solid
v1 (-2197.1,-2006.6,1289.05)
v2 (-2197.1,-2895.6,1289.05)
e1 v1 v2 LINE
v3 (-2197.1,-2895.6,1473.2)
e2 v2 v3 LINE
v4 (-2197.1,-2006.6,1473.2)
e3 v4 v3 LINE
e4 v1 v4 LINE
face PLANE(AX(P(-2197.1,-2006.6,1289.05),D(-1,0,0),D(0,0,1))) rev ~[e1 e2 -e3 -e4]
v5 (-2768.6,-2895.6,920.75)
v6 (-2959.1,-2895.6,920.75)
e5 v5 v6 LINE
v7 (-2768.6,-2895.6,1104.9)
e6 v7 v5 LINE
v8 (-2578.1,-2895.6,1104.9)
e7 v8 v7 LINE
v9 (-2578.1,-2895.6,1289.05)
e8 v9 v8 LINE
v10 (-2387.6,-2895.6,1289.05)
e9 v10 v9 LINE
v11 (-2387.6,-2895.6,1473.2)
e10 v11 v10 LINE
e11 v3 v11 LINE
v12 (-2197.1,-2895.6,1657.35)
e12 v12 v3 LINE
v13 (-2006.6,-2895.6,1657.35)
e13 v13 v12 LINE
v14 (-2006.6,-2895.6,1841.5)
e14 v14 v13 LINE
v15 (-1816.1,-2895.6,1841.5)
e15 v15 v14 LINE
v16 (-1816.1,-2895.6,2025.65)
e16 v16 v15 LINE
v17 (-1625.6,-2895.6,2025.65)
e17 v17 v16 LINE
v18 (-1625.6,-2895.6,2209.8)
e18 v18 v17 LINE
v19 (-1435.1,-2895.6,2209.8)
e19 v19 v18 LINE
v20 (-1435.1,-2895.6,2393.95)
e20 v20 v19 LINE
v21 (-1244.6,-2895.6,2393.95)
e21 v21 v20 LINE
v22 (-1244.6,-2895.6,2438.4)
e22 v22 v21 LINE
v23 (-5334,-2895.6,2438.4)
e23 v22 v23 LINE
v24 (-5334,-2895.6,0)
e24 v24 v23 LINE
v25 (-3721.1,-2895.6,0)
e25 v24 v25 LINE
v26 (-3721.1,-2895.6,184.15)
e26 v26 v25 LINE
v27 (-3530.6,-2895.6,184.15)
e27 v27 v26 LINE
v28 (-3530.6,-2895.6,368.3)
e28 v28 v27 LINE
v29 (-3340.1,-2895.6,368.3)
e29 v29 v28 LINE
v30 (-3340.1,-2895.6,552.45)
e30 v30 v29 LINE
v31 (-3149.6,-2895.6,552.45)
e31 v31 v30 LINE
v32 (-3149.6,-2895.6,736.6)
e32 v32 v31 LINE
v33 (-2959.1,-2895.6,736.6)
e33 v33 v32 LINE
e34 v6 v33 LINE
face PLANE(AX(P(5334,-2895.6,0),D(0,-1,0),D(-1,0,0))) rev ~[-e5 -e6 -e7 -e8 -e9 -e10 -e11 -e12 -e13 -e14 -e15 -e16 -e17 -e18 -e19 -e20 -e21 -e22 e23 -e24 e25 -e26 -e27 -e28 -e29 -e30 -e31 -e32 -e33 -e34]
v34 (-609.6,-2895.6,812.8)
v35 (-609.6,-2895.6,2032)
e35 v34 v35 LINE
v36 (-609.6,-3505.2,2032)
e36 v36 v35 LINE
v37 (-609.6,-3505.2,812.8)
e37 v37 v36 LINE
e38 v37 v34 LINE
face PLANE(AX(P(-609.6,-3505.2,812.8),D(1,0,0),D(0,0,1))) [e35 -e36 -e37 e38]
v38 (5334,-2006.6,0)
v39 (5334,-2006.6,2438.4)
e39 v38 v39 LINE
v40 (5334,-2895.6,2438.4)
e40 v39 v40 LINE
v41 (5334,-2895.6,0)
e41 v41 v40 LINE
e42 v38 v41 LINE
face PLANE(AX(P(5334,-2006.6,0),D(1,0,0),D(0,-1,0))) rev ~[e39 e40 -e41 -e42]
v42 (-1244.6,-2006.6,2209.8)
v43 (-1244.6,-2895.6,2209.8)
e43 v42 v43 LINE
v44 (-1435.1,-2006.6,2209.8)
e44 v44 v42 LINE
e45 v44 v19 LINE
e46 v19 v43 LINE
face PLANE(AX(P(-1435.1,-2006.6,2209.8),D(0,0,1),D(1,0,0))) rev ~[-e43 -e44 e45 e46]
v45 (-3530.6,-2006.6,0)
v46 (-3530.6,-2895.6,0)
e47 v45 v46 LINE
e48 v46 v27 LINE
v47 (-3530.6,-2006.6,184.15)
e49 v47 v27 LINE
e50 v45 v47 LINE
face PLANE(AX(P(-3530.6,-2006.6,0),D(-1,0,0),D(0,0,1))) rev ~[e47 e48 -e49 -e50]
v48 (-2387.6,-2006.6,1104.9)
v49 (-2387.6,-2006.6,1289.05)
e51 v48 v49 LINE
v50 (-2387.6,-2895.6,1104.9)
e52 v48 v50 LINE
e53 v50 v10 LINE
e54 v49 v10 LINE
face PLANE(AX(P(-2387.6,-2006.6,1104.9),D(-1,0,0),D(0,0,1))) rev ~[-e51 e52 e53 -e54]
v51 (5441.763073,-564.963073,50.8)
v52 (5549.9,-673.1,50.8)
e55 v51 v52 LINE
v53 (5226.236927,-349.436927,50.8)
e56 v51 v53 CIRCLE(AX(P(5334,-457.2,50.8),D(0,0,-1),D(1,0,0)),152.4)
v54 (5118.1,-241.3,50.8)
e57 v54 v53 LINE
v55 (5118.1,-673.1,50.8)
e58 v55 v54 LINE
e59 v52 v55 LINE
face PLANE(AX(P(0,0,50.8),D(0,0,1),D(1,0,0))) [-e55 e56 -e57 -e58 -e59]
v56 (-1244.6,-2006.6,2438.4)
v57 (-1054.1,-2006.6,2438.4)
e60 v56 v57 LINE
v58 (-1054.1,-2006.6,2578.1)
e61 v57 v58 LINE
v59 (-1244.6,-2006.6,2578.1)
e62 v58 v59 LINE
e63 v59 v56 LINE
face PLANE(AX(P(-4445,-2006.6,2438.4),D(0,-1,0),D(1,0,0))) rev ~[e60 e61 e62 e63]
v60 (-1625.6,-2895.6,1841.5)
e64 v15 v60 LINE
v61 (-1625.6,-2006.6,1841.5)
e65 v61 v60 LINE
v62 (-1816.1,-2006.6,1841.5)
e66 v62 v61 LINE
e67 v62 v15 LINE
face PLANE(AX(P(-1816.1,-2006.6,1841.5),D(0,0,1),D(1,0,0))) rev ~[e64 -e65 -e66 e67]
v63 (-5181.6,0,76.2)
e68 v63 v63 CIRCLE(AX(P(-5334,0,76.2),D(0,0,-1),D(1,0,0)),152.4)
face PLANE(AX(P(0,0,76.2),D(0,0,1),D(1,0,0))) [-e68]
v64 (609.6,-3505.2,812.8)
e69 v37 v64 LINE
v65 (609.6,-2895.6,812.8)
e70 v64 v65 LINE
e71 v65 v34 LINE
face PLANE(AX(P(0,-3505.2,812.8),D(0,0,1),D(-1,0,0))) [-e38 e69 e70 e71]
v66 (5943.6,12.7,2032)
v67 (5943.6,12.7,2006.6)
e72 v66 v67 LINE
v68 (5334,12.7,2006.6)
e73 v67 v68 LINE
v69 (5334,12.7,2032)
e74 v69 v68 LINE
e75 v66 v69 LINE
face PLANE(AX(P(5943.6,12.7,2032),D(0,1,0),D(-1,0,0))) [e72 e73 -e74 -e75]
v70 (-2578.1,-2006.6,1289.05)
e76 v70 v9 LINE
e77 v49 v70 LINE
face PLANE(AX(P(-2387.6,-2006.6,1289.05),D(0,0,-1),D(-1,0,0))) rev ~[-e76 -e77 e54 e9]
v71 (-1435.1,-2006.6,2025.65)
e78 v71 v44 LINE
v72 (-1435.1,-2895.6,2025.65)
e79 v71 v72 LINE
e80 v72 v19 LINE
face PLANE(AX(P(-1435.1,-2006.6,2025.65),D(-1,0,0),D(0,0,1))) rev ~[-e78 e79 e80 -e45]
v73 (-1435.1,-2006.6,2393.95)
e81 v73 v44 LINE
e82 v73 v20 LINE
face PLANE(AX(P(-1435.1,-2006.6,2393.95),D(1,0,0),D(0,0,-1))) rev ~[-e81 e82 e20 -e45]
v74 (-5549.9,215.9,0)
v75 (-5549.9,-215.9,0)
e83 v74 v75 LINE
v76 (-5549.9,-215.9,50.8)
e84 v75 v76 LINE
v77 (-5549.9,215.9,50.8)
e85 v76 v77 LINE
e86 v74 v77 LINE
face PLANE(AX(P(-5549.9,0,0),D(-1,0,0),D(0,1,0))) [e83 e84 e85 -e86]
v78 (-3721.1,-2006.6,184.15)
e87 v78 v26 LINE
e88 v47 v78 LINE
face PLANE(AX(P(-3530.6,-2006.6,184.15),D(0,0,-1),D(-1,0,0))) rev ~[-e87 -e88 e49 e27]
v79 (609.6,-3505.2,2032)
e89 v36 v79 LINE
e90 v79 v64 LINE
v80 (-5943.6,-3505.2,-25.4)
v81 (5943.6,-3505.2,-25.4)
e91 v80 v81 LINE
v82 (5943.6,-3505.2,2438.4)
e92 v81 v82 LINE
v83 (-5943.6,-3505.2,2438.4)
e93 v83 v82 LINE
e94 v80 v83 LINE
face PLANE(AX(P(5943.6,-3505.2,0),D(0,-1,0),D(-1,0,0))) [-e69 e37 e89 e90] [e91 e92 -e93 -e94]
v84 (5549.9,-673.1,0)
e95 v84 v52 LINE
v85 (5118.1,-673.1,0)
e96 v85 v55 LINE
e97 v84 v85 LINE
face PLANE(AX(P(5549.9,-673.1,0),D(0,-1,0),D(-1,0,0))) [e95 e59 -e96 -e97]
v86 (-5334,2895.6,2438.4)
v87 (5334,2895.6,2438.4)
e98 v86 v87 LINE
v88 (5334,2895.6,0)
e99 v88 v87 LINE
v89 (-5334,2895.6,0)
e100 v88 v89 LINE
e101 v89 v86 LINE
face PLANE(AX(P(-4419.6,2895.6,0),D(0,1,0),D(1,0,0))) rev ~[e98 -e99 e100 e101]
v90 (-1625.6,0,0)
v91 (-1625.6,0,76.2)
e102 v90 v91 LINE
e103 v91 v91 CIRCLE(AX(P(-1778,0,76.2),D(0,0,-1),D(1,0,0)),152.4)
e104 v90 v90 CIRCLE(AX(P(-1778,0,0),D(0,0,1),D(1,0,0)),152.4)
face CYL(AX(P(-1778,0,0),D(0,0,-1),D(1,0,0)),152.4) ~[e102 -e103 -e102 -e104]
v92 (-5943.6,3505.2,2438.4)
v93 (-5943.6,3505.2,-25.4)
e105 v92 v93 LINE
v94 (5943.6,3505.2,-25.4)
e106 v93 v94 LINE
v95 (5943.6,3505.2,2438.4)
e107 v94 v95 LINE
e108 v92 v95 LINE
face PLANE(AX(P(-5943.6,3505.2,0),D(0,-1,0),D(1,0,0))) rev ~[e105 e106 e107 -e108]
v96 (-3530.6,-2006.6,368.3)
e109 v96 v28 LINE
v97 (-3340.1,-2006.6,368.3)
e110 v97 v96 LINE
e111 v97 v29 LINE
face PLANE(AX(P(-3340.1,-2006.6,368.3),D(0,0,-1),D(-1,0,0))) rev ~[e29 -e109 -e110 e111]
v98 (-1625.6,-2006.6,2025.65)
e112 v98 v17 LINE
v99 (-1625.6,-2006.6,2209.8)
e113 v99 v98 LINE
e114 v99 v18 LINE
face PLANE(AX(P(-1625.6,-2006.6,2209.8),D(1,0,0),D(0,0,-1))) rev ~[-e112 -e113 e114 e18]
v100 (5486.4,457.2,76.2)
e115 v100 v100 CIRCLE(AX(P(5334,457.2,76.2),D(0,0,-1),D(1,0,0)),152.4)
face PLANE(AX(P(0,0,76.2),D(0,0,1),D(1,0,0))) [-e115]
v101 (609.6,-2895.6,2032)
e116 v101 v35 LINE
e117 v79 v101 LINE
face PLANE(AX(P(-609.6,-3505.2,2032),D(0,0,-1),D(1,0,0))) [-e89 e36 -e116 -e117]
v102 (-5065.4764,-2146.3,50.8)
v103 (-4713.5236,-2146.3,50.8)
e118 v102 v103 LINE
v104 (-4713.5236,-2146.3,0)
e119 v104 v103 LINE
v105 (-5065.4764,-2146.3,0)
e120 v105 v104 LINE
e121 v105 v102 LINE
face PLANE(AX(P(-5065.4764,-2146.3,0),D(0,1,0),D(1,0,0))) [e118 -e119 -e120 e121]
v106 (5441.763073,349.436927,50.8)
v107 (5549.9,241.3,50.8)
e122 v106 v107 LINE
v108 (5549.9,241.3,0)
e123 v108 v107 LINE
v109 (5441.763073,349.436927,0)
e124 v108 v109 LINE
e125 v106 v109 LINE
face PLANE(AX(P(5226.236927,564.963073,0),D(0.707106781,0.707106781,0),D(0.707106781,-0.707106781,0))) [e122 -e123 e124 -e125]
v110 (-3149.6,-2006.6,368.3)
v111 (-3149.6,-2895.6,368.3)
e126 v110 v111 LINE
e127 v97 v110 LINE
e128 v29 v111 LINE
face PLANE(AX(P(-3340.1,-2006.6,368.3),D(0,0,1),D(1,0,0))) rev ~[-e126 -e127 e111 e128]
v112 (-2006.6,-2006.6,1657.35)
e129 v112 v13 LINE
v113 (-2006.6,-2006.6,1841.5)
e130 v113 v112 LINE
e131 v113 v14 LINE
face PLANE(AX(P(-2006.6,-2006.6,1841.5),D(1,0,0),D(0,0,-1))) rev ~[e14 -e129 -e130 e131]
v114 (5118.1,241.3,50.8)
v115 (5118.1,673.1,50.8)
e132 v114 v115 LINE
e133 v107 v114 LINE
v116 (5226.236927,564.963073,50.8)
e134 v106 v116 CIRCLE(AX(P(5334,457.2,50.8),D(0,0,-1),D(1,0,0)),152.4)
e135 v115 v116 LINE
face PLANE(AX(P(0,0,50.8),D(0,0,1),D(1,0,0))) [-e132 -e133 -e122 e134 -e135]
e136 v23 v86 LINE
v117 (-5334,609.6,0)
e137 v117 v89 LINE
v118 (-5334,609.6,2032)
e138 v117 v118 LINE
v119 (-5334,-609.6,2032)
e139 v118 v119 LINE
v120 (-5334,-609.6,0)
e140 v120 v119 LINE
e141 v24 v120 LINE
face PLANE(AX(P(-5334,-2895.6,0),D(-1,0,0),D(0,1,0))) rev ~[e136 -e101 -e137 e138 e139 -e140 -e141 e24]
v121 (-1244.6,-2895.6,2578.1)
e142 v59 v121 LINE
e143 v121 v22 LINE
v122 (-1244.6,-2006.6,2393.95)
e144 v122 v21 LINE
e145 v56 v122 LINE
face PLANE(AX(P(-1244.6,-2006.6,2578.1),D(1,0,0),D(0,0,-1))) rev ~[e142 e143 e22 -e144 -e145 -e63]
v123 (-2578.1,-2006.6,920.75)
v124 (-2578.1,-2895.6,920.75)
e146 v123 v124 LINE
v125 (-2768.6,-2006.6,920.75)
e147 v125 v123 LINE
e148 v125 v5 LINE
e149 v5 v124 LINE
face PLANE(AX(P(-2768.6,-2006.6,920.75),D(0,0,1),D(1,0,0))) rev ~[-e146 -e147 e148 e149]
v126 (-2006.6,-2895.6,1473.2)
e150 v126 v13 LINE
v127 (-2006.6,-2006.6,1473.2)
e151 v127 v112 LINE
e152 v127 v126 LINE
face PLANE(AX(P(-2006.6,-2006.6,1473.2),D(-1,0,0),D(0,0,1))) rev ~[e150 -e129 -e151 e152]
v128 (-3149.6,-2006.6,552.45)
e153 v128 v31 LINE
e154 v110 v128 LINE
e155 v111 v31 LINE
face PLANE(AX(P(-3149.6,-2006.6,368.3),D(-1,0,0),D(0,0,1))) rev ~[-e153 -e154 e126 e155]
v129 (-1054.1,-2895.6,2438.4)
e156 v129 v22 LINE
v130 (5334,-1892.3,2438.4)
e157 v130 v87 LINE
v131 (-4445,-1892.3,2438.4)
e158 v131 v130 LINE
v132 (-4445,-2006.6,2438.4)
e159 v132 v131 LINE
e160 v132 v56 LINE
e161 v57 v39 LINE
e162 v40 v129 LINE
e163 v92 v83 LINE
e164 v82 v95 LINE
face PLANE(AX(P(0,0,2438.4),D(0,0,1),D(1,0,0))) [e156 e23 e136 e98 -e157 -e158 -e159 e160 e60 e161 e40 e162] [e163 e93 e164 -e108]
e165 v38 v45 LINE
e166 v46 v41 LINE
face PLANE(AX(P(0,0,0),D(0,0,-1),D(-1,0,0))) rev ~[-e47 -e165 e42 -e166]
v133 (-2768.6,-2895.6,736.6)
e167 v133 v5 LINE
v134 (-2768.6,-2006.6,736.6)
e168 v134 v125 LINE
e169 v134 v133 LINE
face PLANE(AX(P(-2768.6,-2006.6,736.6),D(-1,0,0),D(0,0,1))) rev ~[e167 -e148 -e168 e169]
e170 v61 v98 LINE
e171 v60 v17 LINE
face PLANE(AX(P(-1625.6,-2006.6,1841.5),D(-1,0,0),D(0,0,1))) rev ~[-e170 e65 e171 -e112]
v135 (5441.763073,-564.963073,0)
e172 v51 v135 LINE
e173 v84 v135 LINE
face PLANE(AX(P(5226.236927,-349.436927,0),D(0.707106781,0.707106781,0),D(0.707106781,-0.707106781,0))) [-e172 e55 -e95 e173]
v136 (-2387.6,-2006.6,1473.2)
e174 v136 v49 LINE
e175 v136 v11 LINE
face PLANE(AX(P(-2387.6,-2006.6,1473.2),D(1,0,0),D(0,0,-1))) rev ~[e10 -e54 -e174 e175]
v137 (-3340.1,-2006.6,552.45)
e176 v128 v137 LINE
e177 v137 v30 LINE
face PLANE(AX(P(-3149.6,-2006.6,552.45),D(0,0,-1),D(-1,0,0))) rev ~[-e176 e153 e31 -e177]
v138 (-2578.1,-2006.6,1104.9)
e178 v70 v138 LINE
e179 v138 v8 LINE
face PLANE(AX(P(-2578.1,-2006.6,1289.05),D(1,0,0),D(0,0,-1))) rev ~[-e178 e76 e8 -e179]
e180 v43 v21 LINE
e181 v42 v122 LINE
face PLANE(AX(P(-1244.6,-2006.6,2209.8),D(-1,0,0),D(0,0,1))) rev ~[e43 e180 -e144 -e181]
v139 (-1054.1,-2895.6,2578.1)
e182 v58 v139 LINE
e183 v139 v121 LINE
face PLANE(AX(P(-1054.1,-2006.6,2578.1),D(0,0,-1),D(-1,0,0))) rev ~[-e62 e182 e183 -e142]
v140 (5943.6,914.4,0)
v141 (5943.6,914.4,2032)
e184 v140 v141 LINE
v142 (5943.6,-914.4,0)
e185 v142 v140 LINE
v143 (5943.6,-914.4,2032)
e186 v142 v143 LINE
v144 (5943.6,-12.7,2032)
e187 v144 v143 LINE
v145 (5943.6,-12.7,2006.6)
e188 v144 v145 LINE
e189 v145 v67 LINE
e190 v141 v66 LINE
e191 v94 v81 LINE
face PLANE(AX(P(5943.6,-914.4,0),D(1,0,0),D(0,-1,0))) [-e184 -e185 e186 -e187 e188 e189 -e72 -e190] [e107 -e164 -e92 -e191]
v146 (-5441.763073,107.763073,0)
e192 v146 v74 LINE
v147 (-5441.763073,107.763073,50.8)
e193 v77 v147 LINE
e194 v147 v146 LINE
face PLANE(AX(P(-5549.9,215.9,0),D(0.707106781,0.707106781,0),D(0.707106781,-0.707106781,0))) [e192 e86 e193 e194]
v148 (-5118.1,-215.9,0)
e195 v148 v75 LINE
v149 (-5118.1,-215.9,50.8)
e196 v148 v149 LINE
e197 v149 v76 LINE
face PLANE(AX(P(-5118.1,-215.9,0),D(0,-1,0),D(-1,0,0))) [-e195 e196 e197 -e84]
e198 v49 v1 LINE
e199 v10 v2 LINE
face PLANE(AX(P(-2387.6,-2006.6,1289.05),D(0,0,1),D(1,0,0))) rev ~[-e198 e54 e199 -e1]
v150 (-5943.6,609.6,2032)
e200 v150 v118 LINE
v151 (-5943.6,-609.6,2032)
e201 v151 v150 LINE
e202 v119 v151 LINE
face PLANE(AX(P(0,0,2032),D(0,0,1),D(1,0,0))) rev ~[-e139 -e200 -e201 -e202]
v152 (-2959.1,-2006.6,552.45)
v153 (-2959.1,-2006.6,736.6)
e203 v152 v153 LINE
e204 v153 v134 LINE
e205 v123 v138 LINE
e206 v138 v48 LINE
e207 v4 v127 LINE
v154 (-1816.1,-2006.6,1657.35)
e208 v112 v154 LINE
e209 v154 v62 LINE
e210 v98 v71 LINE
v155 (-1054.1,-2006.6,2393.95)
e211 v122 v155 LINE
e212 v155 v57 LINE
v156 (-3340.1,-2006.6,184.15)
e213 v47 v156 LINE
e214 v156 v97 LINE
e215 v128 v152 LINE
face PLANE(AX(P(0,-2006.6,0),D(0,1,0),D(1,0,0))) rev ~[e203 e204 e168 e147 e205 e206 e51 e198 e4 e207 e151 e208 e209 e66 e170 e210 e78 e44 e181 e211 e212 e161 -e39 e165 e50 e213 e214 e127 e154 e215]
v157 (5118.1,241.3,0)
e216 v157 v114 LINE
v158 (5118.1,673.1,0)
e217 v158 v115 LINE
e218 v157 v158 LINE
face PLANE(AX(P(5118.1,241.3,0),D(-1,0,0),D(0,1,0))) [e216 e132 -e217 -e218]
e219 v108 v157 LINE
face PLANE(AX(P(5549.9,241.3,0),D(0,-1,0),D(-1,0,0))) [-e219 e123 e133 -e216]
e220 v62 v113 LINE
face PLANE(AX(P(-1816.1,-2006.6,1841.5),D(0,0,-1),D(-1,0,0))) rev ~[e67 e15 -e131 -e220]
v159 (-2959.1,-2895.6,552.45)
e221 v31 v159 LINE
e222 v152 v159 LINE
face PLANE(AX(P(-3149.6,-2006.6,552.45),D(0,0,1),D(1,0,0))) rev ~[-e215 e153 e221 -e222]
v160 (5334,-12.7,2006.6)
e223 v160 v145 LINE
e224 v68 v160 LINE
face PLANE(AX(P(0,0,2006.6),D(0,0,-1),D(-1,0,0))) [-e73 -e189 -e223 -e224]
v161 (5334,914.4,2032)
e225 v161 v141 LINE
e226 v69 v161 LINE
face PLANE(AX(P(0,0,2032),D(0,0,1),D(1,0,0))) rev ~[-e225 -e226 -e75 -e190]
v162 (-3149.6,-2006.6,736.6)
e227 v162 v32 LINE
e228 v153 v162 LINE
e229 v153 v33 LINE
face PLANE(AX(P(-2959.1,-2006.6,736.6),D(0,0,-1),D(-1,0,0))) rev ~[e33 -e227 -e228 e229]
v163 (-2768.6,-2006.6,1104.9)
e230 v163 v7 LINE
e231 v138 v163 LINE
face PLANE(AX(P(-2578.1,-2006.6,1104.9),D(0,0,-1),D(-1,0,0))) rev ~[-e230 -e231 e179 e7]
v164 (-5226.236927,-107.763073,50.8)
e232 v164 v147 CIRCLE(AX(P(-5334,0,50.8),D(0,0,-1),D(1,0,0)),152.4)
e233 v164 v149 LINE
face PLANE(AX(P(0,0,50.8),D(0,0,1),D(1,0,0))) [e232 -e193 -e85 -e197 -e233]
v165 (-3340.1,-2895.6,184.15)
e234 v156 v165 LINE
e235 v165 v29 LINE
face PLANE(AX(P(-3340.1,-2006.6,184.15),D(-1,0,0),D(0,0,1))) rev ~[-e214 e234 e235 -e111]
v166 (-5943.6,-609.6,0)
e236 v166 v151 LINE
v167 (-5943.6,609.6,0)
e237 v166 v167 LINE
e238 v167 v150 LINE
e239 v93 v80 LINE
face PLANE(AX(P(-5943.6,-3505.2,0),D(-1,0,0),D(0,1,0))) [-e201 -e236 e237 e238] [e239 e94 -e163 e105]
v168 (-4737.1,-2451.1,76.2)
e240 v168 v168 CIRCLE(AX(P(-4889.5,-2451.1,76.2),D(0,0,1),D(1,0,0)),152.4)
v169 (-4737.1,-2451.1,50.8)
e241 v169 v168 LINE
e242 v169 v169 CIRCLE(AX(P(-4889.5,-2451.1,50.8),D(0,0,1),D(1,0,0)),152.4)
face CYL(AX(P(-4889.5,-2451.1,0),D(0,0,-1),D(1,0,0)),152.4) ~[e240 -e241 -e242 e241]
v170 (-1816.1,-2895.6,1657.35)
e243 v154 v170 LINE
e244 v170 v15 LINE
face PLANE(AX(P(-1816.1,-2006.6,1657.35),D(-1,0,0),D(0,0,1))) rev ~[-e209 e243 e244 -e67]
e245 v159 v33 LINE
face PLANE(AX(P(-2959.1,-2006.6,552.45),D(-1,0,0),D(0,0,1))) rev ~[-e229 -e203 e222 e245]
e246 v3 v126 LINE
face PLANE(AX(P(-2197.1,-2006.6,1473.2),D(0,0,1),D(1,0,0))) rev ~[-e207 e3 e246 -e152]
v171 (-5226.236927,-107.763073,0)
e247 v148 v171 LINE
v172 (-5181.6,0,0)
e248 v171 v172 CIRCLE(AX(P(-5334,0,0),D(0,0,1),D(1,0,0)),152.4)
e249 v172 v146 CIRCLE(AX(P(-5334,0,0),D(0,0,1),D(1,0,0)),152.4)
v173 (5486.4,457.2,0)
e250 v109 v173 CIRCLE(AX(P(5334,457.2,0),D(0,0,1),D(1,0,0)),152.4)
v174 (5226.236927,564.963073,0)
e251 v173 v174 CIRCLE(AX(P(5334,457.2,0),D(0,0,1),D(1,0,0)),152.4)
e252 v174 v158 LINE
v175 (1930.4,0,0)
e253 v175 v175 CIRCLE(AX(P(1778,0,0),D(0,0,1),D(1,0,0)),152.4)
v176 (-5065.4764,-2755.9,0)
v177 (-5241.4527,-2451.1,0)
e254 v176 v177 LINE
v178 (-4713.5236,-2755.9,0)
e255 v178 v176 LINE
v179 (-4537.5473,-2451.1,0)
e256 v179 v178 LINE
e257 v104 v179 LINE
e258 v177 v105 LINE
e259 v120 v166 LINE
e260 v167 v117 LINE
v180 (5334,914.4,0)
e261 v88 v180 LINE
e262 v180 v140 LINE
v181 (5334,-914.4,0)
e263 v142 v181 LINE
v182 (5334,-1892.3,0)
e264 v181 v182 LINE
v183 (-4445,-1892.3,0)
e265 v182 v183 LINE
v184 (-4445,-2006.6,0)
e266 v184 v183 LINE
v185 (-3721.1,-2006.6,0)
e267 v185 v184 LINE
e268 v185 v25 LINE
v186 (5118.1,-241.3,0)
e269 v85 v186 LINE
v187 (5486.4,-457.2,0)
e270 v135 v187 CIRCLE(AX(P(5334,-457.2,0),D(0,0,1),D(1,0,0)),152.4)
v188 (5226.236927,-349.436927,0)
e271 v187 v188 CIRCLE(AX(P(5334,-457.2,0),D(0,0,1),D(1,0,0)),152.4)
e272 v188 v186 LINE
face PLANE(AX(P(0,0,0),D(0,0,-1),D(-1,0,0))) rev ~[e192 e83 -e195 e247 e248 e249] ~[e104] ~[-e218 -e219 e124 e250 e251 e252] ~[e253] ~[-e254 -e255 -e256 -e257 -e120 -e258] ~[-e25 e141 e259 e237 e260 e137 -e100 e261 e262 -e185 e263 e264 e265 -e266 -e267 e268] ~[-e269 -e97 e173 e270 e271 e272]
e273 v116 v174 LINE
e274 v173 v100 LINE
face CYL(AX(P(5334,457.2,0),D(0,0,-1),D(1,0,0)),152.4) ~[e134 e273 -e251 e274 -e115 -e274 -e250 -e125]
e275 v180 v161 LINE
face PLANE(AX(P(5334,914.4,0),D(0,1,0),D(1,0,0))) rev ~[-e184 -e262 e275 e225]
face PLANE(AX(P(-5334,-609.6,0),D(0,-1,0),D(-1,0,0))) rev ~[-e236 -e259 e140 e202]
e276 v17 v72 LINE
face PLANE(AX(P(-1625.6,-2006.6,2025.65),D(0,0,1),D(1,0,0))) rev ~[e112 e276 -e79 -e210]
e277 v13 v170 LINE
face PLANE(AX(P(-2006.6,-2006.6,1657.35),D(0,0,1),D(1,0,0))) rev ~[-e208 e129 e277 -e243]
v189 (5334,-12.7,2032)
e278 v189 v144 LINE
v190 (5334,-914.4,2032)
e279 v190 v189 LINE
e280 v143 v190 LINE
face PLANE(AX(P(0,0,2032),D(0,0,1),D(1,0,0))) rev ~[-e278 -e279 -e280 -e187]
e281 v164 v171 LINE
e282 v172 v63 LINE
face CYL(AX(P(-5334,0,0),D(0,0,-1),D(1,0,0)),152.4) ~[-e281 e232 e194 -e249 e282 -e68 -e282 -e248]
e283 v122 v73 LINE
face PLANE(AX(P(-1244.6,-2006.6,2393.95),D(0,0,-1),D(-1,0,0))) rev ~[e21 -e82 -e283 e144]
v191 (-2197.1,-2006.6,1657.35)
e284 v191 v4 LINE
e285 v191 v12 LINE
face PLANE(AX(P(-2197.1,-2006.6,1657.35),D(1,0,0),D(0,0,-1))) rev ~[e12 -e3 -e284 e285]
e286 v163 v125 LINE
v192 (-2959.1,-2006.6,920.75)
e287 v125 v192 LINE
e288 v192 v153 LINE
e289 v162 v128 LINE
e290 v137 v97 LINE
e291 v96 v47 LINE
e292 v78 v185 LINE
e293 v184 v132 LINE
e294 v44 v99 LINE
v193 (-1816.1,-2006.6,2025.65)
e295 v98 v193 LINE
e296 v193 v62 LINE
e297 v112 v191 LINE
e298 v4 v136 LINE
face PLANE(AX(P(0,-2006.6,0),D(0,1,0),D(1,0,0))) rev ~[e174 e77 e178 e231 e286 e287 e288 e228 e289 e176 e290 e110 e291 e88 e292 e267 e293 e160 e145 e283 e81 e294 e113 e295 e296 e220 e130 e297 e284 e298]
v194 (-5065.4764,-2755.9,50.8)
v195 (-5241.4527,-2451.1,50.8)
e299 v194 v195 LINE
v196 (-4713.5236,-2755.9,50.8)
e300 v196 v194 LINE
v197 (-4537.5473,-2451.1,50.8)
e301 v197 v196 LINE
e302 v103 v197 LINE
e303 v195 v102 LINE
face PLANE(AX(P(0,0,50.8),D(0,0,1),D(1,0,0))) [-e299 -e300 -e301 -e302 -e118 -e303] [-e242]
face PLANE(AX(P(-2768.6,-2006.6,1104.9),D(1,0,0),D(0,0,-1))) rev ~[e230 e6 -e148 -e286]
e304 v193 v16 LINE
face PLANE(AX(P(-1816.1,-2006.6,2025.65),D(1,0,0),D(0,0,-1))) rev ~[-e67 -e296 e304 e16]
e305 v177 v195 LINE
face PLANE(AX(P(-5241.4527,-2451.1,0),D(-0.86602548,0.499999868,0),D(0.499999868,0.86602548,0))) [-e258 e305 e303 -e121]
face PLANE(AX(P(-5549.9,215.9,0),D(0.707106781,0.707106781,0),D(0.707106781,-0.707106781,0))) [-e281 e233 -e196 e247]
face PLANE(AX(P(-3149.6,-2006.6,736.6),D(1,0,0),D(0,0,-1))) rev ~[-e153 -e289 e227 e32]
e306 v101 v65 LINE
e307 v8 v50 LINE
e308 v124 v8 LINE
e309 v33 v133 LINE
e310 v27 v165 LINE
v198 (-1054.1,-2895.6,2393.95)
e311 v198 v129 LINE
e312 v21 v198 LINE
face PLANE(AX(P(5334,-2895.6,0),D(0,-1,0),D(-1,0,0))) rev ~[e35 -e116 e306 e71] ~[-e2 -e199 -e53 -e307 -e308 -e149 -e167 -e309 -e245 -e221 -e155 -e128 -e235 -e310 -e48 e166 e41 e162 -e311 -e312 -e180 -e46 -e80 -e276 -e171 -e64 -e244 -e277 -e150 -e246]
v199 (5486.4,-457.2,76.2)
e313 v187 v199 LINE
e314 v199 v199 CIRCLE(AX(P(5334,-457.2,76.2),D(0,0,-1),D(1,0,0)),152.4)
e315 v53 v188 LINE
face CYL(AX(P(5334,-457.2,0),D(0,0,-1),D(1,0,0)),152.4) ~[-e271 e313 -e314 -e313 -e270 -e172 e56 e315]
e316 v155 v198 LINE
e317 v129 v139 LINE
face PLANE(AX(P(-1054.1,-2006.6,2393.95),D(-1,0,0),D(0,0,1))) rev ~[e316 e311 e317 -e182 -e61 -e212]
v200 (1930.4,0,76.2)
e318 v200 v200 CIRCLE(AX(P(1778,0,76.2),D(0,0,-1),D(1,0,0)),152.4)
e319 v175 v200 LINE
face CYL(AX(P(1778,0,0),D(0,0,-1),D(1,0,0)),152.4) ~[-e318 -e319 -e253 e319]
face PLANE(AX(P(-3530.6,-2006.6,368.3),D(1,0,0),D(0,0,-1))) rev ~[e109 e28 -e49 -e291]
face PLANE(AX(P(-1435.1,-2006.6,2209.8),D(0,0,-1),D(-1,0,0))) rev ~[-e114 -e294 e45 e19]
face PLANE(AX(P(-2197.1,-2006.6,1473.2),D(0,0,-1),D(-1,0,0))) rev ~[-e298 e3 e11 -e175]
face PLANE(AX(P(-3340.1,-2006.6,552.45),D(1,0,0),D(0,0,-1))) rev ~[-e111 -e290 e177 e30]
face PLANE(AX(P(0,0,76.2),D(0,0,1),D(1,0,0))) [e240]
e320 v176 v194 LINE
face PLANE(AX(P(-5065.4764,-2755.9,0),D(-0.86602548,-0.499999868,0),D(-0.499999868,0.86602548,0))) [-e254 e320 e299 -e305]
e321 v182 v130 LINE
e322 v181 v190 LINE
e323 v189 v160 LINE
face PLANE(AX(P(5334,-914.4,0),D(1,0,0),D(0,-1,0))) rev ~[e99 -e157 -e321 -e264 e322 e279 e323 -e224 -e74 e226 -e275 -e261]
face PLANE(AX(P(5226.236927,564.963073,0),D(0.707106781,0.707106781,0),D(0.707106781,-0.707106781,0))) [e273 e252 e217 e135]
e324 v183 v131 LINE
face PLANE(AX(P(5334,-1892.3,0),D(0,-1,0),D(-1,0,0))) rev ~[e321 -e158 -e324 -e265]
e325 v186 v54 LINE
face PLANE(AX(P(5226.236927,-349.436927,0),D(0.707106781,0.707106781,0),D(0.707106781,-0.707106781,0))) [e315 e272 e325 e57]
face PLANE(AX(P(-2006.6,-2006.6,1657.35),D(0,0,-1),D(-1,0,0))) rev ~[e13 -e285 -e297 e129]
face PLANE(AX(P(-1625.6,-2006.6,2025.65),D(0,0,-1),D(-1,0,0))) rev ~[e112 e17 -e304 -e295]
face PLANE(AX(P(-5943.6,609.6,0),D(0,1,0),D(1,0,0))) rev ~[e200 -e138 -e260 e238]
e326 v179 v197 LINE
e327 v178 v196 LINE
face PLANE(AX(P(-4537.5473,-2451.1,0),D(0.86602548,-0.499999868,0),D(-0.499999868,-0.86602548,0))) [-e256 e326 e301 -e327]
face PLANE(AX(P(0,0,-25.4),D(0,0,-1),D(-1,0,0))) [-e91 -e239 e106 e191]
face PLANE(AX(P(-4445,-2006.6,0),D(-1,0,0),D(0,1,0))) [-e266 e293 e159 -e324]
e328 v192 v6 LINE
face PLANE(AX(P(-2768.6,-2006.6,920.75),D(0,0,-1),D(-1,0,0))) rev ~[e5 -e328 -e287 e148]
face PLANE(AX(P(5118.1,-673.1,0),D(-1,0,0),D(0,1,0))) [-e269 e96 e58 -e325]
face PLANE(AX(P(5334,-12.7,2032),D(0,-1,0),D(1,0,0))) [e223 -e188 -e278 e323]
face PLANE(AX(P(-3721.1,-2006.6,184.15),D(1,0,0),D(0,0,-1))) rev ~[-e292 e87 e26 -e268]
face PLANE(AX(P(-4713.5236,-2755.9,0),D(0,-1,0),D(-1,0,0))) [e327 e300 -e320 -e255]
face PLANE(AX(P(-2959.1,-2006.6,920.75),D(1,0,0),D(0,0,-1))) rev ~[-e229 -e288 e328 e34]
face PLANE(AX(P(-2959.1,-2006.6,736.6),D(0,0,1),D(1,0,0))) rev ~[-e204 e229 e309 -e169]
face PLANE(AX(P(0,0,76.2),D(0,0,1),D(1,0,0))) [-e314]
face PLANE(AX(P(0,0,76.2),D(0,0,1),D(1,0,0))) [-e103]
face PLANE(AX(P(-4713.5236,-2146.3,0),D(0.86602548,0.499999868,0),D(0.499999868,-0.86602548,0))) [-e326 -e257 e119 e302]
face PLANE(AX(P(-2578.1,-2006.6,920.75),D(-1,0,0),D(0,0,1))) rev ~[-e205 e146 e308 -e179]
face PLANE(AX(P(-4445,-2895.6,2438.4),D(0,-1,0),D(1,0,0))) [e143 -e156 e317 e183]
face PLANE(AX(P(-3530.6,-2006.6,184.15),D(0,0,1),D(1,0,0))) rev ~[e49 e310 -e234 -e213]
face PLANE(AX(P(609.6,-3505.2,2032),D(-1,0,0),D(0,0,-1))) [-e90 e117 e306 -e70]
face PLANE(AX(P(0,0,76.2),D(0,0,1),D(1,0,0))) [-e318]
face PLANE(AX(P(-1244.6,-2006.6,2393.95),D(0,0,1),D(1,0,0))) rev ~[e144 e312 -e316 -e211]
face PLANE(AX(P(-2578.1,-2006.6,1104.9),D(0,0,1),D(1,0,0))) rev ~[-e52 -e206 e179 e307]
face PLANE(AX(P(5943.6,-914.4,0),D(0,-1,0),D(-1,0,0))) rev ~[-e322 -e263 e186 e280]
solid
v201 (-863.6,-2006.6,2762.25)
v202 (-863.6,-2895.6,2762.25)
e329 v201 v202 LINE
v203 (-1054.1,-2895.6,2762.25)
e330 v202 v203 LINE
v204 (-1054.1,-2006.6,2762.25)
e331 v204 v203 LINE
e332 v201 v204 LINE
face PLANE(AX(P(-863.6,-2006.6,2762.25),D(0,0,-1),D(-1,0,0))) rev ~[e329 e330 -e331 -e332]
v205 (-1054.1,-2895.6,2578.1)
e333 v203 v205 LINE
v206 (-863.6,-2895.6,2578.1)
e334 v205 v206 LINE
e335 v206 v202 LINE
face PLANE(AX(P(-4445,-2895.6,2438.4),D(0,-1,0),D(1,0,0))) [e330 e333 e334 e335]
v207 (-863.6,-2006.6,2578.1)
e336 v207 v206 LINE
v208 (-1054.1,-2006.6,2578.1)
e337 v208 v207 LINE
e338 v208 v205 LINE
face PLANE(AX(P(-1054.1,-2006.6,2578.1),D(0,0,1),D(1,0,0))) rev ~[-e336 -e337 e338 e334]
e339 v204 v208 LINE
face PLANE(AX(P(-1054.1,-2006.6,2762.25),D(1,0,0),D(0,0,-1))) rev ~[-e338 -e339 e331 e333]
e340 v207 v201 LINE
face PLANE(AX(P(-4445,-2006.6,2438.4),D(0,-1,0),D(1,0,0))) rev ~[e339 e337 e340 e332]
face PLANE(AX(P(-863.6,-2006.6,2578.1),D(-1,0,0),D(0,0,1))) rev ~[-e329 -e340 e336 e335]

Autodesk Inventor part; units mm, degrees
ref_plane "YZ Plane" through (0, 0, 0) normal (1, 0, 0) x (0, 1, 0)
ref_plane "XZ Plane" through (0, 0, 0) normal (0, 1, 0) x (-1, 0, 0)
ref_plane "XY Plane" through (0, 0, 0) normal (0, 0, 1) x (1, 0, 0)
sketch "Sketch1" plane through (0, 0, 0) normal (0, 0, 1) x (1, 0, 0)
  line L0 (-8321.04, 0) -> (8321.04, 0) projected
  line L1 (-5943.6, 3505.2) -> (5943.6, 3505.2)
  line L2 (-5334, 2895.6) -> (5334, 2895.6)
  line L3 (-4572, 2895.6) -> (-4419.6, 2895.6)
  line L4 (-1981.2, -2006.6) -> (-4445, -2006.6)
  line L5 (-4445, -2006.6) -> (-4445, -1892.3)
  line L6 (-1219.2, -2895.6) -> (-1066.8, -2895.6)
  line L7 (5334, -2895.6) -> (0, -2895.6)
  line L8 (0, -2895.6) -> (-5334, -2895.6)
  line L9 (5943.6, -3505.2) -> (0, -3505.2)
  line L10 (0, -3505.2) -> (-5943.6, -3505.2)
  line L11 (5334, 914.4) -> (5943.6, 914.4)
  line L12 (5943.6, -914.4) -> (5334, -914.4)
  line L13 (5334, 2895.6) -> (5334, 914.4)
  line L14 (5334, -914.4) -> (5334, -2895.6)
  line L15 (5943.6, 3505.2) -> (5943.6, 914.4)
  line L16 (5943.6, -914.4) -> (5943.6, -3505.2)
  line L17 (-4445, -2006.6) -> (5334, -2006.6)
  line L18 (5334, -1892.3) -> (-4445, -1892.3)
  line L19 (-4445, -1892.3) -> (-4445, -2006.6)
  line L20 (5334, -1892.3) -> (5334, -2006.6)
  line L21 (-5943.6, 609.6) -> (-5334, 609.6)
  line L22 (-5334, -609.6) -> (-5943.6, -609.6)
  line L23 (-5943.6, -3505.2) -> (-5943.6, -609.6)
  line L24 (-5943.6, 609.6) -> (-5943.6, 3505.2)
  line L25 (-5334, -2895.6) -> (-5334, -609.6)
  line L26 (-5334, 609.6) -> (-5334, 2895.6)
  line L27 (-4445, -2006.6) -> (-4419.6, -2006.6)
  line L28 (-4419.6, 2895.6) -> (-4572, 2895.6)
  line L29 (-4445, -1892.3) -> (-4445, -2006.6)
  line L30 (0, -4907.28) -> (0, 4907.28) projected
  dimension "d18" = 7010.4
  dimension "d19" = 609.6
  dimension "d20" = 609.6
  dimension "d23" = 1828.8
  dimension "d24" = 2590.8
  dimension "d25" = 609.6
  dimension "d28" = 114.3
  dimension "d29" = 0
  dimension "d34" = 1219.2
  dimension "d35" = 2895.6
  dimension "d36" = 609.6
  dimension "d46" = 889
  dimension "d105" = 889
  dimension "d106" = 11887.2
extrude "Extrusion9" add sketch "Sketch1" along normal blind 2438.4 contours L18 L14 L17 L30 | L30 L17 L4 L5 L18 | L1 L30 L2 L26 L21 L24 | L1 L15 L11 L13 L2 L30 | L14 L12 L16 L9 L30 L7 | L30 L10 L23 L22 L25 L8 L6
sketch "Sketch8" plane through (0, 0, 0) normal (0, 0, -1) x (-1, 0, 0)
  line L0 (5943.6, 3505.2) -> (-5943.6, 3505.2) projected
  line L1 (-5943.6, 3505.2) -> (-5943.6, 914.4) projected
  line L2 (-5943.6, 914.4) -> (-5334, 914.4) projected
  line L3 (-5334, 914.4) -> (-5334, 2895.6) projected
  line L4 (-5334, 2895.6) -> (5334, 2895.6) projected
  line L5 (5334, 2895.6) -> (5334, 609.6) projected
  line L6 (5334, 609.6) -> (5943.6, 609.6) projected
  line L7 (5943.6, 609.6) -> (5943.6, 3505.2) projected
  line L8 (-5943.6, 3505.2) -> (5943.6, 3505.2)
  line L9 (5943.6, 3505.2) -> (5943.6, -3505.2)
  line L10 (5943.6, -3505.2) -> (-5943.6, -3505.2)
  line L11 (-5943.6, -3505.2) -> (-5943.6, 3505.2)
  point P0 (0, 0)
extrude "Extrusion10" add sketch "Sketch8" along normal blind 25.4
sketch "Sketch9" plane through (0, 0, 2438.4) normal (0, 0, 1) x (1, 0, 0)
  line L0 (5943.6, 3505.2) -> (-5943.6, 3505.2) projected
  line L1 (-5943.6, 3505.2) -> (-5943.6, 609.6) projected
  line L2 (-5943.6, 609.6) -> (-5334, 609.6) projected
  line L3 (-5334, 609.6) -> (-5334, 2895.6) projected
  line L4 (-5334, 2895.6) -> (5334, 2895.6) projected
  line L5 (5334, 2895.6) -> (5334, 914.4) projected
  line L6 (5334, 914.4) -> (5943.6, 914.4) projected
  line L7 (5943.6, 914.4) -> (5943.6, 3505.2) projected
  line L8 (-5943.6, 609.6) -> (-5334, 609.6)
  line L9 (-5334, 609.6) -> (-5334, -609.6)
  line L10 (-5334, -609.6) -> (-5943.6, -609.6)
  line L11 (-5943.6, -609.6) -> (-5943.6, 609.6)
  line L12 (5334, 914.4) -> (5943.6, 914.4)
  line L13 (5943.6, 914.4) -> (5943.6, -914.4)
  line L14 (5943.6, -914.4) -> (5334, -914.4)
  line L15 (5334, -914.4) -> (5334, 914.4)
  point P0 (0, 0)
extrude "Extrusion11" add sketch "Sketch9" against normal blind 406.4 contours L13 L14 L15 L6 | L2 L9 L10 L11
sketch "Sketch10" plane through (-4445, -2006.6, 2438.4) normal (0, -1, 0) x (1, 0, 0)
  line L0 (0, -2438.4) -> (9779, -2438.4) projected
  line L1 (0, -2438.4) -> (0, 0) projected
  line L2 (723.9, -2438.4) -> (914.4, -2438.4)
  line L3 (914.4, -2438.4) -> (914.4, -2254.25)
  line L4 (914.4, -2254.25) -> (723.9, -2254.25)
  line L5 (723.9, -2254.25) -> (723.9, -2438.4)
  line L6 (914.4, -2254.25) -> (1104.9, -2254.25)
  line L7 (1104.9, -2254.25) -> (1104.9, -2070.1)
  line L8 (1104.9, -2070.1) -> (914.4, -2070.1)
  line L9 (914.4, -2070.1) -> (914.4, -2254.25)
  line L10 (1104.9, -2070.1) -> (1295.4, -2070.1)
  line L11 (1295.4, -2070.1) -> (1295.4, -1885.95)
  line L12 (1295.4, -1885.95) -> (1104.9, -1885.95)
  line L13 (1104.9, -1885.95) -> (1104.9, -2070.1)
  line L14 (1295.4, -1885.95) -> (1485.9, -1885.95)
  line L15 (1485.9, -1885.95) -> (1485.9, -1701.8)
  line L16 (1485.9, -1701.8) -> (1295.4, -1701.8)
  line L17 (1295.4, -1701.8) -> (1295.4, -1885.95)
  line L18 (1485.9, -1701.8) -> (1676.4, -1701.8)
  line L19 (1676.4, -1701.8) -> (1676.4, -1517.65)
  line L20 (1676.4, -1517.65) -> (1485.9, -1517.65)
  line L21 (1485.9, -1517.65) -> (1485.9, -1701.8)
  line L22 (1676.4, -1517.65) -> (1866.9, -1517.65)
  line L23 (1866.9, -1517.65) -> (1866.9, -1333.5)
  line L24 (1866.9, -1333.5) -> (1676.4, -1333.5)
  line L25 (1676.4, -1333.5) -> (1676.4, -1517.65)
  line L26 (1866.9, -1333.5) -> (2057.4, -1333.5)
  line L27 (2057.4, -1333.5) -> (2057.4, -1149.35)
  line L28 (2057.4, -1149.35) -> (1866.9, -1149.35)
  line L29 (1866.9, -1149.35) -> (1866.9, -1333.5)
  line L30 (2438.4, -965.2) -> (2438.4, -781.05)
  line L31 (2247.9, -1149.35) -> (2247.9, -965.2)
  line L32 (2247.9, -965.2) -> (2438.4, -965.2)
  line L33 (2438.4, -781.05) -> (2247.9, -781.05)
  line L34 (2247.9, -781.05) -> (2247.9, -965.2)
  line L35 (2057.4, -1149.35) -> (2247.9, -1149.35)
  line L36 (2247.9, -965.2) -> (2057.4, -965.2)
  line L37 (2057.4, -965.2) -> (2057.4, -1149.35)
  line L38 (2628.9, -781.05) -> (2628.9, -596.9)
  line L39 (2438.4, -781.05) -> (2628.9, -781.05)
  line L40 (2628.9, -596.9) -> (2438.4, -596.9)
  line L41 (2438.4, -596.9) -> (2438.4, -781.05)
  line L42 (3200.4, -228.6) -> (3200.4, -44.45)
  line L43 (3200.4, 139.7) -> (3200.4, -44.45)
  line L44 (3200.4, -44.45) -> (3390.9, -44.45)
  line L45 (3390.9, 139.7) -> (3200.4, 139.7)
  line L46 (3009.9, -44.45) -> (3009.9, -228.6)
  line L47 (3009.9, -228.6) -> (3200.4, -228.6)
  line L48 (3200.4, -44.45) -> (3009.9, -44.45)
  line L49 (3390.9, -44.45) -> (3390.9, 139.7)
  line L50 (3009.9, -412.75) -> (3009.9, -228.6)
  line L51 (3009.9, -228.6) -> (2819.4, -228.6)
  line L52 (2819.4, -412.75) -> (3009.9, -412.75)
  line L53 (2819.4, -228.6) -> (2819.4, -412.75)
  line L54 (2819.4, -596.9) -> (2819.4, -412.75)
  line L55 (2819.4, -412.75) -> (2628.9, -412.75)
  line L56 (2628.9, -596.9) -> (2819.4, -596.9)
  line L57 (2628.9, -412.75) -> (2628.9, -596.9)
  line L58 (3390.9, 139.7) -> (3581.4, 139.7)
  line L59 (3581.4, 139.7) -> (3581.4, 323.85)
  line L60 (3581.4, 323.85) -> (3390.9, 323.85)
  line L61 (3390.9, 323.85) -> (3390.9, 139.7)
  point P0 (8445.5, -2438.4)
  point P1 (4445, -2438.4)
  dimension "d113" = 190.5
  dimension "d115" = 184.15
  dimension "d116" = 723.9
  dimension "d117" = 190.5
  dimension "d118" = 184.15
  dimension "d119" = 190.5
  dimension "d120" = 184.15
  dimension "d121" = 190.5
  dimension "d122" = 184.15
  dimension "d123" = 190.5
  dimension "d124" = 184.15
  dimension "d125" = 190.5
  dimension "d126" = 184.15
  dimension "d127" = 190.5
  dimension "d128" = 184.15
  dimension "d129" = 190.5
  dimension "d130" = 184.15
  dimension "d131" = 190.5
  dimension "d132" = 184.15
  dimension "d133" = 190.5
  dimension "d134" = 184.15
  dimension "d135" = 190.5
  dimension "d136" = 184.15
  dimension "d137" = 190.5
  dimension "d138" = 184.15
  dimension "d139" = 190.5
  dimension "d140" = 184.15
  dimension "d141" = 190.5
  dimension "d142" = 184.15
  dimension "d154" = 184.15
  dimension "d155" = 190.5
extrude "Extrusion12" add sketch "Sketch10" along normal up to surface (889 mm away)
sketch "Sketch11" plane through (-5943.6, -3505.2, 2438.4) normal (0, -1, 0) x (1, 0, 0)
  line L0 (5334, -406.4) -> (6553.2, -406.4)
  line L1 (6553.2, -406.4) -> (6553.2, -1625.6)
  line L2 (6553.2, -1625.6) -> (5334, -1625.6)
  line L3 (5334, -1625.6) -> (5334, -406.4)
  line L4 (11277.6, -2438.4) -> (2413, -2438.4) projected
  line L5 (5943.6, -2956.56) -> (5943.6, 492.76) projected
  point P0 (5943.6, -2438.4)
  dimension "d145" = 1219.2
  dimension "d147" = 1219.2
  dimension "d148" = 812.8
extrude "Extrusion13" cut sketch "Sketch11" against normal up to surface (609.6 mm away)
sketch "Sketch14" plane through (0, 0, 2032) normal (0, 0, -1) x (-1, 0, 0)
  line L0 (-5334, -914.4) -> (-5334, 914.4) projected
  line L1 (-5943.6, 914.4) -> (-5943.6, -914.4) projected
  line L2 (-8321.04, 0) -> (8321.04, 0) projected
  line L3 (-5943.6, 12.7) -> (-5334, 12.7)
  line L4 (-5334, 12.7) -> (-5334, -12.7)
  line L5 (-5334, -12.7) -> (-5943.6, -12.7)
  line L6 (-5943.6, -12.7) -> (-5943.6, 12.7)
  point P0 (0, 0)
  dimension "d156" = 25.4
extrude "Extrusion15" add sketch "Sketch14" along normal blind 25.4
sketch "Sketch15" plane through (0, 0, 0) normal (0, 0, 1) x (1, 0, 0)
  line L0 (5334, -914.4) -> (5334, -1892.3) projected
  line L1 (5943.6, -914.4) -> (5334, -914.4) projected
  line L2 (5943.6, 914.4) -> (5334, 914.4) projected
  line L3 (5334, 914.4) -> (5334, 2895.6) projected
  line L4 (-5334, 2895.6) -> (-5334, 609.6) projected
  line L5 (-5334, -609.6) -> (-5943.6, -609.6) projected
  line L6 (-3721.1, -2895.6) -> (-5334, -2895.6) projected
  line L7 (-8321.04, 0) -> (8321.04, 0) projected
  circle A0 centre (-1778, 0) radius 152.4
  circle A1 centre (1778, 0) radius 152.4
  line L8 (-4445, -2006.6) -> (-5334, -2006.6)
  line L9 (-5334, -2006.6) -> (-5334, -2895.6)
  line L10 (-5334, -2895.6) -> (-4445, -2895.6)
  line L11 (-4445, -2895.6) -> (-4445, -2006.6)
  circle A2 centre (-4889.5, -2451.1) radius 152.4
  circle A3 centre (-5334, 0) radius 152.4
  line L12 (-5118.1, -215.9) -> (-5549.9, -215.9)
  line L13 (-5549.9, -215.9) -> (-5549.9, 215.9)
  line L14 (-5549.9, 215.9) -> (-5118.1, -215.9)
  circle A4 centre (5334, 457.2) radius 152.4
  line L15 (5549.9, 241.3) -> (5118.1, 241.3)
  line L16 (5118.1, 241.3) -> (5118.1, 673.1)
  line L17 (5118.1, 673.1) -> (5549.9, 241.3)
  circle A5 centre (5334, -457.2) radius 152.4
  line L18 (5549.9, -673.1) -> (5118.1, -673.1)
  line L19 (5118.1, -241.3) -> (5549.9, -673.1)
  line L20 (5118.1, -673.1) -> (5118.1, -241.3)
  line L21 (-4713.5236, -2146.3) -> (-4537.5473, -2451.1)
  line L22 (-4537.5473, -2451.1) -> (-4713.5236, -2755.9)
  line L23 (-4713.5236, -2755.9) -> (-5065.4764, -2755.9)
  line L24 (-5065.4764, -2755.9) -> (-5241.4527, -2451.1)
  line L25 (-5241.4527, -2451.1) -> (-5065.4764, -2146.3)
  line L26 (-5065.4764, -2146.3) -> (-4713.5236, -2146.3)
  point P0 (0, 0)
  point P1 (1.5875, 1.5875)
  point P2 (770.0638, -2405.9824)
  point P3 (-4729.4618, 0)
  point P4 (5334, 457.2)
  point P5 (5334, -457.2)
  dimension "d161" = 304.8
  dimension "d163" = 304.8
  dimension "d164" = 3556
  dimension "d165" = 7112
  dimension "d166" = 304.8
  dimension "d167" = 444.5
  dimension "d168" = 444.5
  dimension "d169" = 304.8
  dimension "d172" = 431.8
  dimension "d173" = 431.8
  dimension "d174" = 215.9
  dimension "d175" = 304.8
  dimension "d176" = 431.8
  dimension "d177" = 431.8
  dimension "d178" = 215.9
  dimension "d179" = 304.8
  dimension "d180" = 431.8
  dimension "d181" = 431.8
  dimension "d182" = 215.9
  dimension "d183" = 457.2
  dimension "d184" = 457.2
  dimension "d185" = 609.6
extrude "Extrusion16" add sketch "Sketch15" along normal blind 50.8 contours L13 L14 A3 L7 | L7 A3 L14 L12 L13 | A3 L14 L7 | L7 L14 A3 | L17 A4 | A4 L17 L15 L16 | L19 A5 | A5 L19 L18 L20 | L21 L22 L23 L24 L25 L26 picked at (-5435.2806, 5.6878) picked at (-5275.2995, -82.7306) picked at (5279.404, 452.9523) picked at (5279.404, -461.4477)
extrude "Extrusion17" add sketch "Sketch15" along normal blind 76.2 contours A1 L7 | L7 A1 | A0 L7 | L7 A0 | A3 L14 L7 | L7 L14 A3 | L14 A3 L7 | L7 A3 L14 | A2 | A4 L17 | L17 A4 | A5 L19 | L19 A5
sketch "Sketch12" plane through (0, 0, 2438.4) normal (0, 0, 1) x (1, 0, 0)
  line L0 (-5943.6, -3505.2) -> (5943.6, -3505.2) projected
  line L1 (5943.6, -3505.2) -> (5943.6, 3505.2) projected
  line L2 (5943.6, 3505.2) -> (-5943.6, 3505.2) projected
  line L3 (-5943.6, 3505.2) -> (5943.6, 3505.2)
  line L4 (5943.6, 3505.2) -> (5943.6, -2463.8)
  line L5 (5943.6, -2463.8) -> (-5943.6, -2463.8)
  line L6 (-5943.6, -2463.8) -> (-5943.6, 3505.2)
  line L7 (-1054.1, -2006.6) -> (5943.6, -2006.6)
  line L8 (5943.6, -2006.6) -> (5943.6, -3505.2)
  line L9 (5943.6, -3505.2) -> (-1054.1, -3505.2)
  line L10 (-1054.1, -3505.2) -> (-1054.1, -2006.6)
  line L11 (-5943.6, -2463.8) -> (-5181.6, -2463.8)
  line L12 (-5181.6, -2463.8) -> (-5181.6, -3505.2)
  line L13 (-5181.6, -3505.2) -> (-5943.6, -3505.2)
  line L14 (-5943.6, -3505.2) -> (-5943.6, -2463.8)
  line L15 (-1054.1, -2895.6) -> (-5943.6, -2895.6)
  line L16 (-5943.6, -2895.6) -> (-5943.6, -3505.2)
  line L17 (-5943.6, -3505.2) -> (-1054.1, -3505.2)
  line L18 (-1054.1, -3505.2) -> (-1054.1, -2895.6)
  point P0 (0, 0)
properties part number "West_Test_Structure_1st_Floor_Devices"
